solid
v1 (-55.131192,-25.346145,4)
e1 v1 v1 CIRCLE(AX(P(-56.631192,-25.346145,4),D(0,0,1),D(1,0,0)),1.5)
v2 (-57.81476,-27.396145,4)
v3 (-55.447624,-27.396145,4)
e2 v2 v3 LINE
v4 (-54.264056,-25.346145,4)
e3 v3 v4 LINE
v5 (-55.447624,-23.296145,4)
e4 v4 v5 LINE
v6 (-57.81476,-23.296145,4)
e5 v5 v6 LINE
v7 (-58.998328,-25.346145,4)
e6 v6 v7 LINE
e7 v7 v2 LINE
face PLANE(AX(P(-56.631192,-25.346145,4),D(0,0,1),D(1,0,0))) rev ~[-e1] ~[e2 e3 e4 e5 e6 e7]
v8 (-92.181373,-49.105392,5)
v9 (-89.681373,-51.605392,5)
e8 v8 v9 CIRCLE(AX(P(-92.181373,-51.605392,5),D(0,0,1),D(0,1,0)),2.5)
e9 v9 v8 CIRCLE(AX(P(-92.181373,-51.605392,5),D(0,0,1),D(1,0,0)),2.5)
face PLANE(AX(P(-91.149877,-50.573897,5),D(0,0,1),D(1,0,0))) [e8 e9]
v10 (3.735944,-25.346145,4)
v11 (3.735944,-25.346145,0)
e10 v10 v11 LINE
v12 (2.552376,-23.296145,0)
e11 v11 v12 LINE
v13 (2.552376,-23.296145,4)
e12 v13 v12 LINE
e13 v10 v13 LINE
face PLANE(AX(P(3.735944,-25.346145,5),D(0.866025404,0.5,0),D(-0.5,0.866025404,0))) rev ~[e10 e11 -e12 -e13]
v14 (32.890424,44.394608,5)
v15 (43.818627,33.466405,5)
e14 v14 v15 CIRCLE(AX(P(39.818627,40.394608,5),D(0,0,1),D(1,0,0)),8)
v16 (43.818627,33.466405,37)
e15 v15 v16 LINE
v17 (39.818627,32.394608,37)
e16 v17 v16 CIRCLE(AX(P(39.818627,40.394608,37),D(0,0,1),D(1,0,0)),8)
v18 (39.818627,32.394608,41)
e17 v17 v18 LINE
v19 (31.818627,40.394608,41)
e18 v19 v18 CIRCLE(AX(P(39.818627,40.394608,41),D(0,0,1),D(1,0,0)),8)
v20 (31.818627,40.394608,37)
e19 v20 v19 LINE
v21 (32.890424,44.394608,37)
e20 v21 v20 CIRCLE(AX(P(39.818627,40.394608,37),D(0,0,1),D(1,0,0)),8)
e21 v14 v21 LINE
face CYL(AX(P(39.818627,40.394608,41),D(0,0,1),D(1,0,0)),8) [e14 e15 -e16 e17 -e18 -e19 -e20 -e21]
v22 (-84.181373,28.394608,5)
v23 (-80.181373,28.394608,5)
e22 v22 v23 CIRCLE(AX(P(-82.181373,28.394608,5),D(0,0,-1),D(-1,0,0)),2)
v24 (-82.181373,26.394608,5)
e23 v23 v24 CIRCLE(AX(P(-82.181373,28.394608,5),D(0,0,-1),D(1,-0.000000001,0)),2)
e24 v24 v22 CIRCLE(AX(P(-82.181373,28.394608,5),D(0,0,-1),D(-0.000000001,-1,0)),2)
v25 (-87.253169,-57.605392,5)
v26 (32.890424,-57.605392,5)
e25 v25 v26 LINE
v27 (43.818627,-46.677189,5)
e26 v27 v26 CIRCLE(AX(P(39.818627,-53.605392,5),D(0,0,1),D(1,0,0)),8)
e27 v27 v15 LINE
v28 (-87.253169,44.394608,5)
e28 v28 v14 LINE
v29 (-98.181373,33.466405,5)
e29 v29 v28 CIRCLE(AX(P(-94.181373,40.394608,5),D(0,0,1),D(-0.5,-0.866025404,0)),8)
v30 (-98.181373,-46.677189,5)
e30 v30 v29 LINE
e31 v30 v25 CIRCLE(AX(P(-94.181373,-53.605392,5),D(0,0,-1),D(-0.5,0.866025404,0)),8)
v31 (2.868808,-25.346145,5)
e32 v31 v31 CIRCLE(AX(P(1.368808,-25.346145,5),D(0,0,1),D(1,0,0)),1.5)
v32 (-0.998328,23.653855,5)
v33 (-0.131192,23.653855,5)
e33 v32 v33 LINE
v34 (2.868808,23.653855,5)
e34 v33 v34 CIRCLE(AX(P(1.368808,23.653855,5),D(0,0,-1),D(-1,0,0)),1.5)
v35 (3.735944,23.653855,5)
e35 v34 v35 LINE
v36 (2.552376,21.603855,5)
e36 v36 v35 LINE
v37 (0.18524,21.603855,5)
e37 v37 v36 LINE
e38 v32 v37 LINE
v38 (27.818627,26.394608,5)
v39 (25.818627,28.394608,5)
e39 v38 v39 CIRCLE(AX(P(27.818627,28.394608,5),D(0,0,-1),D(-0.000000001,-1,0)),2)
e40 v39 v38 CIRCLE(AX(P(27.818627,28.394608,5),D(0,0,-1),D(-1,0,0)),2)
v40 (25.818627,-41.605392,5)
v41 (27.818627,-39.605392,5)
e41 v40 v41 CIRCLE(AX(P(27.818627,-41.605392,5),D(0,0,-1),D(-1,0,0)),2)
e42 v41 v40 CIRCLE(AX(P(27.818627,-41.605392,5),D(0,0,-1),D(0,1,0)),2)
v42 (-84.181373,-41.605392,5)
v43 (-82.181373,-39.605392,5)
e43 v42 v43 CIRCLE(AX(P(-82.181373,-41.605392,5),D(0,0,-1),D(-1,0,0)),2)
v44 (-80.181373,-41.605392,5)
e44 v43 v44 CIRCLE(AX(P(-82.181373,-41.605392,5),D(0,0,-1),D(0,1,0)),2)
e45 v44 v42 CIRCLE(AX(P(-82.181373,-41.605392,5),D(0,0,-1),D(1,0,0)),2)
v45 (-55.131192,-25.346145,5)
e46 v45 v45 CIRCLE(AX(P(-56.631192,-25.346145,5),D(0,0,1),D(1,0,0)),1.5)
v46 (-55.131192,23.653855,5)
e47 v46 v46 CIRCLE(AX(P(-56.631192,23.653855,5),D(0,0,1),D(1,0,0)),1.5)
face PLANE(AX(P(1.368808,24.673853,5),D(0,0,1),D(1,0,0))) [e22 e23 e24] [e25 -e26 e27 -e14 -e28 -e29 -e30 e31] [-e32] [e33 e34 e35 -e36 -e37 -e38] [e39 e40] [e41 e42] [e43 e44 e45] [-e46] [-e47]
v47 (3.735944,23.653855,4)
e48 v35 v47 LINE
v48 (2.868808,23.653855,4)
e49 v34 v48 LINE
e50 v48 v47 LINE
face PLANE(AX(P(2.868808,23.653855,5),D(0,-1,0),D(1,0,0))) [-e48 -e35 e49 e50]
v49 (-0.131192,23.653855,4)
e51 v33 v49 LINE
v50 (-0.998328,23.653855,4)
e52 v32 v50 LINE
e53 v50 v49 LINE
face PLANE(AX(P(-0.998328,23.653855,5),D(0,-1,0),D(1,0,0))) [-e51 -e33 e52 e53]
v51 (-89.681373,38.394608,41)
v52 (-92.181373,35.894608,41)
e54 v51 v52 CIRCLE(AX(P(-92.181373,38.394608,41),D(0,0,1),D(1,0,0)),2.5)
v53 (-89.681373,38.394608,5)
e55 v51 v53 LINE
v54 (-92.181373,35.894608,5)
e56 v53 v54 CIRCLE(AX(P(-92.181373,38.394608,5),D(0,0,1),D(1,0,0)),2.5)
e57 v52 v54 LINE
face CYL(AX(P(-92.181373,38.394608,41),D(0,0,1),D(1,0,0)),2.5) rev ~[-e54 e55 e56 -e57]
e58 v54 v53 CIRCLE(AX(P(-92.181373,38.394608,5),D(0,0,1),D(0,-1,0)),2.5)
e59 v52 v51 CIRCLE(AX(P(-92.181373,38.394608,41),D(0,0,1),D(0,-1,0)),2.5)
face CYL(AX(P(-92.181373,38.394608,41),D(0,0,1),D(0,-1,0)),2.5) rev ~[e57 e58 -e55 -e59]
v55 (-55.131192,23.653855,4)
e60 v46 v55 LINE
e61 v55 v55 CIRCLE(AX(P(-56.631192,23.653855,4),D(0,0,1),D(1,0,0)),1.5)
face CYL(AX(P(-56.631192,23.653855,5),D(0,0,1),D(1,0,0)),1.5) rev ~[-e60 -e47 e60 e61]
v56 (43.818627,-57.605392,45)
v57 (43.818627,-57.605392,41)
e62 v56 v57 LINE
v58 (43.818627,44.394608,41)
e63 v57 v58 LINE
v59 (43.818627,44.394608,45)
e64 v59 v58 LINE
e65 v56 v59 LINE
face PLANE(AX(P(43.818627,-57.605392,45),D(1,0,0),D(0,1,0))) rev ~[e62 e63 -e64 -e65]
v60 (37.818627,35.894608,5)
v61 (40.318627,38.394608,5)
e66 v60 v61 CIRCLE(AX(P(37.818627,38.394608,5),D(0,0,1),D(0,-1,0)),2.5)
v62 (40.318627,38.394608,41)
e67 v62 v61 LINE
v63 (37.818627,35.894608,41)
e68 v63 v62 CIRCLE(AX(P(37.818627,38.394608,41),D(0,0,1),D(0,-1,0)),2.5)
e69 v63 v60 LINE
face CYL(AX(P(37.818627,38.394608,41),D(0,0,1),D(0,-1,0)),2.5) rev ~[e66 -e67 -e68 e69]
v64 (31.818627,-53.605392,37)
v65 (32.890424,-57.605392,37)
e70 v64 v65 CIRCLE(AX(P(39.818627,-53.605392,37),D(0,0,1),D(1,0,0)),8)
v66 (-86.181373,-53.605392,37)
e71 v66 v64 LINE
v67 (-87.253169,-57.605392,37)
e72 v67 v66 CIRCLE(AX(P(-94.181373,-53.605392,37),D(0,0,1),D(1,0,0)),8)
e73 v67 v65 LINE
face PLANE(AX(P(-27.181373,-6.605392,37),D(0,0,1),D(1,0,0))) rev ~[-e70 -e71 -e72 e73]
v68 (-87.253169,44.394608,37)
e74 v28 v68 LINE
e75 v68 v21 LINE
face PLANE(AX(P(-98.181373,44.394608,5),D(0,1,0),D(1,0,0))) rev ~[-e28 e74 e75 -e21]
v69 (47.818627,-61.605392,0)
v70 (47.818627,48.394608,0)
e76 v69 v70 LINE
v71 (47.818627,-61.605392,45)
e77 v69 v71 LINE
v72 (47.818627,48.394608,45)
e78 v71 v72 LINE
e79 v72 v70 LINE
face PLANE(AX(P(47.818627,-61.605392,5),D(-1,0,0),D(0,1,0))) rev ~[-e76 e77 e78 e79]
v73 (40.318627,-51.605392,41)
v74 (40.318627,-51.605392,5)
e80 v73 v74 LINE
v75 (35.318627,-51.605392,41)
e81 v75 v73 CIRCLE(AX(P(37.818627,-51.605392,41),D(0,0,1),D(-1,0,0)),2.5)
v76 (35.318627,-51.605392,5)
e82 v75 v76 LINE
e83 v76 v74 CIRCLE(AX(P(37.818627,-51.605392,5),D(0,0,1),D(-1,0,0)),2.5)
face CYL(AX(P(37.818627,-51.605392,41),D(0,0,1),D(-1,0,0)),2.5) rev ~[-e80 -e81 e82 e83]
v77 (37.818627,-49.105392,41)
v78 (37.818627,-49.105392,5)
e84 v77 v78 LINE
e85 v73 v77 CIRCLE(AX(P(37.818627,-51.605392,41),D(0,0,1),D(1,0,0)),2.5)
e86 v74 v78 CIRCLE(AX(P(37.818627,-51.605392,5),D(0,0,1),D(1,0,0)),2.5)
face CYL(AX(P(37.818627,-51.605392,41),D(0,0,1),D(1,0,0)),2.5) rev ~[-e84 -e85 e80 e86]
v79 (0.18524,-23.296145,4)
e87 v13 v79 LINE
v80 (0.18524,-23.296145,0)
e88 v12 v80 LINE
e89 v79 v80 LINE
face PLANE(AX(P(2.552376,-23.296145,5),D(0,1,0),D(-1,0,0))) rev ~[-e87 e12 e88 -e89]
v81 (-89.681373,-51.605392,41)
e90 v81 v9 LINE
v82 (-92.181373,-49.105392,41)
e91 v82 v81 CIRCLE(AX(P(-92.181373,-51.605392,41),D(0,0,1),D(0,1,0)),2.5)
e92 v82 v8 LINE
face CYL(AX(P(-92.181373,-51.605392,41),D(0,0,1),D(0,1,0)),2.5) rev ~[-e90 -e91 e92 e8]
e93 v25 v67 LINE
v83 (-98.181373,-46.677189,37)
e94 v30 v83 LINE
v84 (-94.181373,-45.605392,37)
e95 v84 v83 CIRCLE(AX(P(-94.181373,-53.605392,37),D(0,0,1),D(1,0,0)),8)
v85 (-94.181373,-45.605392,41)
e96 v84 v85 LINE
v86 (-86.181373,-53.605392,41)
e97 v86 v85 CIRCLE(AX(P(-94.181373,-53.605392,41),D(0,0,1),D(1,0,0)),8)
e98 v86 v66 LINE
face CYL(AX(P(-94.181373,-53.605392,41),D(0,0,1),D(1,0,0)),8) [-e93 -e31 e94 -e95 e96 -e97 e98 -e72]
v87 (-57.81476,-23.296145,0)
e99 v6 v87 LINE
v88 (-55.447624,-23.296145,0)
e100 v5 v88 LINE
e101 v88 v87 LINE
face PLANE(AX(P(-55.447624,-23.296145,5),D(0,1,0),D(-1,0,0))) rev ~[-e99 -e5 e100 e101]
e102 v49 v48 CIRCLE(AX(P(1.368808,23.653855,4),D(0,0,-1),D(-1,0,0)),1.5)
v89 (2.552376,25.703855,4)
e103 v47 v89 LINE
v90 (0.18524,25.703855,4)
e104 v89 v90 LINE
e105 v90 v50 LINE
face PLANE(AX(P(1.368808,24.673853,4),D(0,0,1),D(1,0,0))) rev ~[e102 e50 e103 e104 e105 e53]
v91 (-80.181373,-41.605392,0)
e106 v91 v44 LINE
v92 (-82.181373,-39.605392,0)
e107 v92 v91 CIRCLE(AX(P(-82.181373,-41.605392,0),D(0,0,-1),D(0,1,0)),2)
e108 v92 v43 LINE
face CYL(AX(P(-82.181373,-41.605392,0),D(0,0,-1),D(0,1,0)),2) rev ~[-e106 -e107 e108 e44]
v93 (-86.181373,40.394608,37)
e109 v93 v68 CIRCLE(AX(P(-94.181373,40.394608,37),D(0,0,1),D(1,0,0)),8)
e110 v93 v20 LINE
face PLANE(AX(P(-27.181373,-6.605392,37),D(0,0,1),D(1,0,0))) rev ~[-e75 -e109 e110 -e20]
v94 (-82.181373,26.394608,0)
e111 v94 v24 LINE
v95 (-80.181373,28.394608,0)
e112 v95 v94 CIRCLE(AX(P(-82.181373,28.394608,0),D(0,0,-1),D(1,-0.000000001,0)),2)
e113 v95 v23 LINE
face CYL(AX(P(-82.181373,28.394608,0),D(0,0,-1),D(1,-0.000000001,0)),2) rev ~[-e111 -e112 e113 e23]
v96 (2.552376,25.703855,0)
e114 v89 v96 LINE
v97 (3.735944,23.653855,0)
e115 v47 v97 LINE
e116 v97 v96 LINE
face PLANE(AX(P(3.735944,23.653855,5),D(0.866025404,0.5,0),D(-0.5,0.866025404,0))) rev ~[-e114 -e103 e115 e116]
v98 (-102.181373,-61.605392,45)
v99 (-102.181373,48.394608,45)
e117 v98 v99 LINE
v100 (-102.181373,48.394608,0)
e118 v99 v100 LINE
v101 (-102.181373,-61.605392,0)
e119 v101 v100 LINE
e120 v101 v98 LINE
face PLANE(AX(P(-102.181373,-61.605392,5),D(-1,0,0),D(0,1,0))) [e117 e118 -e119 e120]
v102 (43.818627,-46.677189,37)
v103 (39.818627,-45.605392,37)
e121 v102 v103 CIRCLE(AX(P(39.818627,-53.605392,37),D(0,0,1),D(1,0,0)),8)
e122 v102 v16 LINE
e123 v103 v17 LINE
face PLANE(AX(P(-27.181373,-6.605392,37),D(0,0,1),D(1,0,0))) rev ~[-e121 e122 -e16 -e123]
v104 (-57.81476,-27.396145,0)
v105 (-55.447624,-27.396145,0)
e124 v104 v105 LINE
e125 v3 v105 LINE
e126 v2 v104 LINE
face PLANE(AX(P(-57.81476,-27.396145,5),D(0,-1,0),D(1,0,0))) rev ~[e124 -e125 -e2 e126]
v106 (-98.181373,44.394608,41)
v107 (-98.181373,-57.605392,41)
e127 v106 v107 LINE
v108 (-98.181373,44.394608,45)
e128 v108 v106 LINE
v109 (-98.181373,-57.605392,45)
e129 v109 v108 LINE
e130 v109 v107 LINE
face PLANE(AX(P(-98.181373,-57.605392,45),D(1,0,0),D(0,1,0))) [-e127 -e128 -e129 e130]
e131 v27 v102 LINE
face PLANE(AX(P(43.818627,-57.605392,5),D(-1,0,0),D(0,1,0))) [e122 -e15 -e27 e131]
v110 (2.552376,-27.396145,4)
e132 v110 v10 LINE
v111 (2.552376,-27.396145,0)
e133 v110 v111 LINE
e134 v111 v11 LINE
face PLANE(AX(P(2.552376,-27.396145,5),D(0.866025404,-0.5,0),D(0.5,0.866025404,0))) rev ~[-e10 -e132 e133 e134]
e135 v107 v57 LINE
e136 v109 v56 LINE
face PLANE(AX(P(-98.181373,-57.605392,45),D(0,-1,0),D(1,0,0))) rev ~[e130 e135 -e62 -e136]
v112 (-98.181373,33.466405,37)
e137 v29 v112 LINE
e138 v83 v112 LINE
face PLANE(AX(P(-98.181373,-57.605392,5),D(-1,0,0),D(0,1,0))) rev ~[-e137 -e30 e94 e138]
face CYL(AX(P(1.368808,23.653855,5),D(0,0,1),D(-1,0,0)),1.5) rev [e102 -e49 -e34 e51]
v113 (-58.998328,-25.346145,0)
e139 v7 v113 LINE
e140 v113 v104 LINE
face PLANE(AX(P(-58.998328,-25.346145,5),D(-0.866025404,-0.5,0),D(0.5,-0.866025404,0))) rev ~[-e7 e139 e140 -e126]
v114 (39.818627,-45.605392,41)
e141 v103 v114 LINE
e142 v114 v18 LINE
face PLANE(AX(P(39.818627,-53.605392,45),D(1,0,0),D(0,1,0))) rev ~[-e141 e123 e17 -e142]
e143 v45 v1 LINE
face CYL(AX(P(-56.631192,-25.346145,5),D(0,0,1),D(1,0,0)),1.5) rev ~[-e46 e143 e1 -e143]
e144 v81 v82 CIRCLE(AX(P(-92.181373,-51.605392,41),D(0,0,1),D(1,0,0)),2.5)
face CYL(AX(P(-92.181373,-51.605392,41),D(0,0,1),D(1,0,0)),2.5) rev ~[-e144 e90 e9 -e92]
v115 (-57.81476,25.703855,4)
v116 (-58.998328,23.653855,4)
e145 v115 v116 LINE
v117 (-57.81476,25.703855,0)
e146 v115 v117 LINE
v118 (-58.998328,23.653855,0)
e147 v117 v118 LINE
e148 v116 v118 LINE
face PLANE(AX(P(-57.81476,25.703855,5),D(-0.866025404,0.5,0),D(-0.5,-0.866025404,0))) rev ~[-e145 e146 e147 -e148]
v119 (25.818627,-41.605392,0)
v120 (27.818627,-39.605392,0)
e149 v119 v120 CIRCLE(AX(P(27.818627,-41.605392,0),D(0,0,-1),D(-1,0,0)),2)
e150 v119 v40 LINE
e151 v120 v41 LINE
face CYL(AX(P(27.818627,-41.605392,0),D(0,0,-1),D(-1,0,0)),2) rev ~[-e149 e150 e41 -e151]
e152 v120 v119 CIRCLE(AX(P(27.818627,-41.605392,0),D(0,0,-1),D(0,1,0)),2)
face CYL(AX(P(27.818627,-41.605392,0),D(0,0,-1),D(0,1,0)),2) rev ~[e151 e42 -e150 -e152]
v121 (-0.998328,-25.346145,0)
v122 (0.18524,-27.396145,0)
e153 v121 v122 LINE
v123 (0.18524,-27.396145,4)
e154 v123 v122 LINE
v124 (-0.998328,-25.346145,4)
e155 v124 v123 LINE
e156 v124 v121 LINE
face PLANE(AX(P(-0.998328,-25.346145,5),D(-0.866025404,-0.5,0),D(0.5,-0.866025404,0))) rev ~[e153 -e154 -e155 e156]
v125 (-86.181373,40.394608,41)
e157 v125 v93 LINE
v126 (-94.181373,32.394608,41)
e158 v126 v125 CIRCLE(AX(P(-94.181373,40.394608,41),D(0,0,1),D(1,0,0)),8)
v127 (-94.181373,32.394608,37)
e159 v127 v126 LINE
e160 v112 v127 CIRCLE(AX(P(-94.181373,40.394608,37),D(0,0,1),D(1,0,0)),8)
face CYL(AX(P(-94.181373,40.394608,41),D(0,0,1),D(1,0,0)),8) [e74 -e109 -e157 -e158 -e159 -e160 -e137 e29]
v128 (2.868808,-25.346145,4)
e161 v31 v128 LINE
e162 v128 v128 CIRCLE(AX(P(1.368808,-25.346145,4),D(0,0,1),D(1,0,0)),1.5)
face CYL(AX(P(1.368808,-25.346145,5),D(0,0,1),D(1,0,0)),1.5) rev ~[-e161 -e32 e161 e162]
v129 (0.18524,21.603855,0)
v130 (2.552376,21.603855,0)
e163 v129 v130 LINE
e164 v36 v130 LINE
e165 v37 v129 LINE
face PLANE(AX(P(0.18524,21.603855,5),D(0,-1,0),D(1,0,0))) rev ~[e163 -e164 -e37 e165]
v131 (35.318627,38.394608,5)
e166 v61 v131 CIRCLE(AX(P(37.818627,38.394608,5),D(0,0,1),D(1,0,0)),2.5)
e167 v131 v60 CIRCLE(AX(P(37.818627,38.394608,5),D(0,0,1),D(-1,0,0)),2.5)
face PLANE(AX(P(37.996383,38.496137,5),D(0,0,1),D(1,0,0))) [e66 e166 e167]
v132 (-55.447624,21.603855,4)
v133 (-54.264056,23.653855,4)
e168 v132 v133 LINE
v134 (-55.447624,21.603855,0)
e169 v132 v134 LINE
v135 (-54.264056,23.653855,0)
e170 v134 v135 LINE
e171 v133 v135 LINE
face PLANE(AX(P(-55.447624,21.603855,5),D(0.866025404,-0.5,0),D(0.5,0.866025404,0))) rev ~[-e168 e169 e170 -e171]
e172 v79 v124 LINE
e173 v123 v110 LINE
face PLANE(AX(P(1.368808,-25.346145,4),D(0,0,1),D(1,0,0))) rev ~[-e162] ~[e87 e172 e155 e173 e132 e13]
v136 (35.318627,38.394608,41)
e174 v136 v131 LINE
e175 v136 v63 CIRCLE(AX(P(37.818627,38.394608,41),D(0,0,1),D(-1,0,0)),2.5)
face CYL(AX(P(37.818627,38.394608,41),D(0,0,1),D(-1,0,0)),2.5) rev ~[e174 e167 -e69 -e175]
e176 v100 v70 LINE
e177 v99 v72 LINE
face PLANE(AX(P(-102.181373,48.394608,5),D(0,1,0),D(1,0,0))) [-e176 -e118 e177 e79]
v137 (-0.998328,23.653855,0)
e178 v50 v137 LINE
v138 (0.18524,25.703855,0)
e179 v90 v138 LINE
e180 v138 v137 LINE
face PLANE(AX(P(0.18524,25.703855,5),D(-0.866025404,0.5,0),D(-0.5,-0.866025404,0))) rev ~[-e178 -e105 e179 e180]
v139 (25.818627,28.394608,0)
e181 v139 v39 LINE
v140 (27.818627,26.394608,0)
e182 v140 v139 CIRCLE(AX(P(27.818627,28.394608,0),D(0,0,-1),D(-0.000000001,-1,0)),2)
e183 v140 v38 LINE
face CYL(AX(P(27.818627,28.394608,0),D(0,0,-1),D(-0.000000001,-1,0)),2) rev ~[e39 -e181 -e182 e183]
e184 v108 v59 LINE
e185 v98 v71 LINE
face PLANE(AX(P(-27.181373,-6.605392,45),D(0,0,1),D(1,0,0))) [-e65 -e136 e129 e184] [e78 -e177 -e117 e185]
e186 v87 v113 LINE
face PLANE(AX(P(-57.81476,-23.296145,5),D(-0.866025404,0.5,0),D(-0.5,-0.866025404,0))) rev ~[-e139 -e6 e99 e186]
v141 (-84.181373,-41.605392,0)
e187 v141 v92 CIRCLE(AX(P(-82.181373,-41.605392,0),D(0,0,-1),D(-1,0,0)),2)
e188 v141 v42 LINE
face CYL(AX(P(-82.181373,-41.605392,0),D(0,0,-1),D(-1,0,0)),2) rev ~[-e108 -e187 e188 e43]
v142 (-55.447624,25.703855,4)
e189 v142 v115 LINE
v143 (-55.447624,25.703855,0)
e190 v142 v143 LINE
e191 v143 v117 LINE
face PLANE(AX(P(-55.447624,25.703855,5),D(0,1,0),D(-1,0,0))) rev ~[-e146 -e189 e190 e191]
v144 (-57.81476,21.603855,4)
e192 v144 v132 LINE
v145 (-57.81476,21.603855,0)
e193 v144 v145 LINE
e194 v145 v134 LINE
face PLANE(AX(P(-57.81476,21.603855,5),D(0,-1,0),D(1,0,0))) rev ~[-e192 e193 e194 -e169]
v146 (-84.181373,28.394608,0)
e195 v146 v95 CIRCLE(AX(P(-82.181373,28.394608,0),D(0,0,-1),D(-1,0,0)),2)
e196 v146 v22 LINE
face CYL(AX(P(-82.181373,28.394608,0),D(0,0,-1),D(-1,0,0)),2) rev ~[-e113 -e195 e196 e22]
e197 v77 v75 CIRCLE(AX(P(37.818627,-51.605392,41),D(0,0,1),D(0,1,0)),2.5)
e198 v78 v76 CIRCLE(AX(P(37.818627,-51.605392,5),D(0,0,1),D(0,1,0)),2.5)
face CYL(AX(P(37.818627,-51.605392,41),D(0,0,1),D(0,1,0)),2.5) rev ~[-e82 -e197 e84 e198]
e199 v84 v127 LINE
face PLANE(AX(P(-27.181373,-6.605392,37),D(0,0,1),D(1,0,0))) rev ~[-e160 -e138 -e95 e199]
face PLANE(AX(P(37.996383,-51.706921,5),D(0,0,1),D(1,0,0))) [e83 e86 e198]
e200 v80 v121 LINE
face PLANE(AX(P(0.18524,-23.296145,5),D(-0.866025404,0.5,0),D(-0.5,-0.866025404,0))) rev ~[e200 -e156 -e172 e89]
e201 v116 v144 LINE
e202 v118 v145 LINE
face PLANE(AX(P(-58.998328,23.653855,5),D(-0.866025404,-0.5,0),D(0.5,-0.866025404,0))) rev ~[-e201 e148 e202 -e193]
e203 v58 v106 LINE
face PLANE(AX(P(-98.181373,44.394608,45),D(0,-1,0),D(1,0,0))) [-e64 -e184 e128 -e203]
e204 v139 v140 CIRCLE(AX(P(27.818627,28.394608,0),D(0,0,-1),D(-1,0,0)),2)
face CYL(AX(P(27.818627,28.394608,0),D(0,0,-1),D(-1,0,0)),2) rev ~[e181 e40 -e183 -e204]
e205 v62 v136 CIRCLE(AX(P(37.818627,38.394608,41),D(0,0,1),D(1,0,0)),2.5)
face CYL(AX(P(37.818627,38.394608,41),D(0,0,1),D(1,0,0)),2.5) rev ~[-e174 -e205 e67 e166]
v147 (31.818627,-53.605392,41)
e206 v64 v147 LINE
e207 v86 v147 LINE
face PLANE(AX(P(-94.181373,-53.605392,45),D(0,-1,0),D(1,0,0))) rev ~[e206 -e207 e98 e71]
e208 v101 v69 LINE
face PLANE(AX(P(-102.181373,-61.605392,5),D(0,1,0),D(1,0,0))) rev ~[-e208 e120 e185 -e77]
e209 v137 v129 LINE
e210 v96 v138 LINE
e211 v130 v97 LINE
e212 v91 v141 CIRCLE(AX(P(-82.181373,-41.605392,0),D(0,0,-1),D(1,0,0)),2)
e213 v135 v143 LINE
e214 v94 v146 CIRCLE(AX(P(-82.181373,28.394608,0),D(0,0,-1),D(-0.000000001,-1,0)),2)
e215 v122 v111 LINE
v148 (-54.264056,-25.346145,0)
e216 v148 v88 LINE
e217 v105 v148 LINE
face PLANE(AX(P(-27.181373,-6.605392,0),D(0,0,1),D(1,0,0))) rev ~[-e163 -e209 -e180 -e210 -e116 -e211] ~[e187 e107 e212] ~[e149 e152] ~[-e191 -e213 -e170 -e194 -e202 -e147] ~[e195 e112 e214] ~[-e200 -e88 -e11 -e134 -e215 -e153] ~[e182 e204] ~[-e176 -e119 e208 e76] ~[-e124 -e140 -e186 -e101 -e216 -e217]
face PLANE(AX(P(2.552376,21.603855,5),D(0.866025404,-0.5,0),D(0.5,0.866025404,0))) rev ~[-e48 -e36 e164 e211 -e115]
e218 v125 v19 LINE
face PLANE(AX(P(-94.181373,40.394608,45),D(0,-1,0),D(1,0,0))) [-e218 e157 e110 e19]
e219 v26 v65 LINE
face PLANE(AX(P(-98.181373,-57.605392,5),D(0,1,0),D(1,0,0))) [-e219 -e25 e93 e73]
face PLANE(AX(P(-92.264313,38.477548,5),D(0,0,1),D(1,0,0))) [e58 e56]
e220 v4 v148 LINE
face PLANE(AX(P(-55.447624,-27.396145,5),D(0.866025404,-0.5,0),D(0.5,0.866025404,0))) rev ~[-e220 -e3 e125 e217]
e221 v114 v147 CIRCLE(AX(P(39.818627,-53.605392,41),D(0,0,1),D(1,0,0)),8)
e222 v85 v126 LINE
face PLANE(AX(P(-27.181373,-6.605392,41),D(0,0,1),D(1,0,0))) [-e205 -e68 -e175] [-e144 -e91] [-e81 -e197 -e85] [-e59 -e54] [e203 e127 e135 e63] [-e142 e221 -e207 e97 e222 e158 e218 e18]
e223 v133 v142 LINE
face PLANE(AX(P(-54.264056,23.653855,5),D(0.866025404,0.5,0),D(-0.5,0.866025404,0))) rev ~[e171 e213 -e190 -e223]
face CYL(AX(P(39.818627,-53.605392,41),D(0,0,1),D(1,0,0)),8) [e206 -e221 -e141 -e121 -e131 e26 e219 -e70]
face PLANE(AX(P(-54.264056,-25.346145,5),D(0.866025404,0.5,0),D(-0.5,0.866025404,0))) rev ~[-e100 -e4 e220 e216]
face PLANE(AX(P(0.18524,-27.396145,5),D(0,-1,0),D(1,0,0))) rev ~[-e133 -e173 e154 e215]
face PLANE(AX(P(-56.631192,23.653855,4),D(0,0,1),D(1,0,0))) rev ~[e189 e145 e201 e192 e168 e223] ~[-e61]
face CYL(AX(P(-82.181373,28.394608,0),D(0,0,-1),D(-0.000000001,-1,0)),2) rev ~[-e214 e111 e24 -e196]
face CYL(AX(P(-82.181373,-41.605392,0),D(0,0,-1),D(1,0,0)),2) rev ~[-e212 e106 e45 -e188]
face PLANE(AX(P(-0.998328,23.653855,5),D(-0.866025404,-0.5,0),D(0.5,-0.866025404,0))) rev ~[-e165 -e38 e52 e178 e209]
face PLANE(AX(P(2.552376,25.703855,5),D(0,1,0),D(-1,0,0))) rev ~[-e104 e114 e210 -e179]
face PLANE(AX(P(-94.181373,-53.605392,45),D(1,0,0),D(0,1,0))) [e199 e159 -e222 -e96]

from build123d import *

# Parameters (mm, degrees)
SKETCH1_W           = 150
SKETCH1_H           = 110
BOSS_EXTRUDE1_DEPTH = 5
SKETCH4_W           = 150
SKETCH4_H           = 110
SKETCH4_W_2         = 142
SKETCH4_H_2         = 102
BOSS_EXTRUDE2_DEPTH = 40
CUT_EXTRUDE1_DEPTH  = 6
SKETCH5_W           = 142
SKETCH5_H           = 102
SKETCH5_W_2         = 134
SKETCH5_H_2         = 94
BOSS_EXTRUDE3_DEPTH = 8
SKETCH6_W           = 142
SKETCH6_H           = 102
SKETCH6_W_2         = 134
SKETCH6_H_2         = 94
CUT_EXTRUDE2_DEPTH  = 4
SKETCH7_R           = 8
BOSS_EXTRUDE4_DEPTH = 36
CUT_EXTRUDE3_DEPTH  = 36
CUT_EXTRUDE4_DEPTH  = 46
SKETCH10_R          = 1.5
BOSS_EXTRUDE5_DEPTH = 1


with BuildPart() as part:
    # Sketch1 → Boss-Extrude1 (new body)
    with BuildSketch(Plane.XY):
        with Locations((-27.181372549, -6.605392157)):
            Rectangle(SKETCH1_W, SKETCH1_H)
    extrude(amount=BOSS_EXTRUDE1_DEPTH)

    # Sketch4 → Boss-Extrude2 (add)
    with BuildSketch(Plane.XY.offset(5)):
        with Locations((-27.181372549, -6.605392157)):
            Rectangle(SKETCH4_W, SKETCH4_H)
        with Locations((-27.181372549, -6.605392157)):
            Rectangle(SKETCH4_W_2, SKETCH4_H_2, mode=Mode.SUBTRACT)
    extrude(amount=BOSS_EXTRUDE2_DEPTH)

    # Sketch2 → Cut-Extrude1 (cut, through all)
    with BuildSketch(Plane(origin=(0, 0, 5), x_dir=(-1, 0, 0), z_dir=(0, 0, 1))):
        Polygon((0.998328299, 25.346145297), (-0.185239753, 27.396145297), (-2.552375857, 27.396145297), (-3.735943908, 25.346145297), (-2.552375857, 23.296145297), (-0.185239753, 23.296145297), align=None)
        Polygon((55.447624143, 27.396145297), (54.264056092, 25.346145297), (55.447624143, 23.296145297), (57.814760247, 23.296145297), (58.998328299, 25.346145297), (57.814760247, 27.396145297), align=None)
        Polygon((-0.185239753, -21.603854703), (-2.552375857, -21.603854703), (-3.735943908, -23.653854703), (-2.552375857, -25.703854703), (-0.185239753, -25.703854703), (0.998328299, -23.653854703), align=None)
        Polygon((55.447624143, -21.603854703), (54.264056092, -23.653854703), (55.447624143, -25.703854703), (57.814760247, -25.703854703), (58.998328299, -23.653854703), (57.814760247, -21.603854703), align=None)
    extrude(amount=-CUT_EXTRUDE1_DEPTH, mode=Mode.SUBTRACT)

    # Sketch5 → Boss-Extrude3 (add)
    with BuildSketch(Plane.XY.offset(45)):
        with Locations((-27.181372549, -6.605392157)):
            Rectangle(SKETCH5_W, SKETCH5_H)
        with Locations((-27.181372549, -6.605392157)):
            Rectangle(SKETCH5_W_2, SKETCH5_H_2, mode=Mode.SUBTRACT)
    extrude(amount=-BOSS_EXTRUDE3_DEPTH)

    # Sketch6 → Cut-Extrude2 (cut)
    with BuildSketch(Plane.XY.offset(45)):
        with Locations((-27.181372549, -6.605392157)):
            Rectangle(SKETCH6_W, SKETCH6_H)
        with Locations((-27.181372549, -6.605392157)):
            Rectangle(SKETCH6_W_2, SKETCH6_H_2, mode=Mode.SUBTRACT)
    extrude(amount=-CUT_EXTRUDE2_DEPTH, mode=Mode.SUBTRACT)

    # Sketch7 → Boss-Extrude4 (add)
    with BuildSketch(Plane.XY.offset(41)):
        with Locations((-94.181372549, 40.394607843)):
            Circle(SKETCH7_R)
        with Locations((-94.181372549, -53.605392157)):
            Circle(SKETCH7_R)
        with Locations((39.818627451, -53.605392157)):
            Circle(SKETCH7_R)
        with Locations((39.818627451, 40.394607843)):
            Circle(SKETCH7_R)
    extrude(amount=-BOSS_EXTRUDE4_DEPTH)

    # Sketch8 → Cut-Extrude3 (cut)
    with BuildSketch(Plane.XY.offset(41)):
        with BuildLine():
            Line((-92.181372549, 35.894607843), (-92.181372549, 38.394607843))
            Line((-92.181372549, 38.394607843), (-89.681372549, 38.394607843))
            ThreePointArc((-89.681372549, 38.394607843), (-93.949139502, 40.162374796), (-92.181372549, 35.894607843))
        make_face()
        with BuildLine():
            Line((-89.681372549, 38.394607843), (-92.181372549, 38.394607843))
            Line((-92.181372549, 38.394607843), (-92.181372549, 35.894607843))
            ThreePointArc((-92.181372549, 35.894607843), (-90.413605596, 36.62684089), (-89.681372549, 38.394607843))
        make_face()
        with BuildLine():
            ThreePointArc((40.318627451, 38.394607843), (37.818627451, 40.894607843), (35.318627451, 38.394607843))
            Line((35.318627451, 38.394607843), (37.818627451, 38.394607843))
            Line((37.818627451, 38.394607843), (37.818627451, 35.894607843))
            ThreePointArc((37.818627451, 35.894607843), (39.586394404, 36.62684089), (40.318627451, 38.394607843))
        make_face()
        with BuildLine():
            Line((37.818627451, 38.394607843), (35.318627451, 38.394607843))
            ThreePointArc((35.318627451, 38.394607843), (36.050860498, 36.62684089), (37.818627451, 35.894607843))
            Line((37.818627451, 35.894607843), (37.818627451, 38.394607843))
        make_face()
        with BuildLine():
            ThreePointArc((40.318627451, -51.605392157), (39.586394404, -49.837625204), (37.818627451, -49.105392157))
            Line((37.818627451, -49.105392157), (37.818627451, -51.605392157))
            Line((37.818627451, -51.605392157), (35.318627451, -51.605392157))
            ThreePointArc((35.318627451, -51.605392157), (37.818627451, -54.105392157), (40.318627451, -51.605392157))
        make_face()
        with BuildLine():
            Line((37.818627451, -51.605392157), (37.818627451, -49.105392157))
            ThreePointArc((37.818627451, -49.105392157), (36.050860498, -49.837625204), (35.318627451, -51.605392157))
            Line((35.318627451, -51.605392157), (37.818627451, -51.605392157))
        make_face()
        with BuildLine():
            ThreePointArc((-89.681372549, -51.605392157), (-90.413605596, -49.837625204), (-92.181372549, -49.105392157))
            Line((-92.181372549, -49.105392157), (-92.181372549, -51.605392157))
            Line((-92.181372549, -51.605392157), (-89.681372549, -51.605392157))
        make_face()
        with BuildLine():
            Line((-92.181372549, -51.605392157), (-92.181372549, -49.105392157))
            ThreePointArc((-92.181372549, -49.105392157), (-93.949139502, -53.37315911), (-89.681372549, -51.605392157))
            Line((-89.681372549, -51.605392157), (-92.181372549, -51.605392157))
        make_face()
    extrude(amount=-CUT_EXTRUDE3_DEPTH, mode=Mode.SUBTRACT)

    # Sketch9 → Cut-Extrude4 (cut, through all)
    with BuildSketch(Plane(origin=(0, 0, 0), x_dir=(-1, 0, 0), z_dir=(0, 0, -1))):
        with BuildLine():
            Line((-27.818627451, 26.394607843), (-27.818627451, 28.394607843))
            Line((-27.818627451, 28.394607843), (-25.818627451, 28.394607843))
            ThreePointArc((-25.818627451, 28.394607843), (-29.232841013, 29.808821406), (-27.818627451, 26.394607843))
        make_face()
        with BuildLine():
            Line((-25.818627451, 28.394607843), (-27.818627451, 28.394607843))
            Line((-27.818627451, 28.394607843), (-27.818627451, 26.394607843))
            ThreePointArc((-27.818627451, 26.394607843), (-26.404413889, 26.980394281), (-25.818627451, 28.394607843))
        make_face()
        with BuildLine():
            ThreePointArc((-25.818627451, -41.605392157), (-26.404413889, -40.191178594), (-27.818627451, -39.605392157))
            Line((-27.818627451, -39.605392157), (-27.818627451, -41.605392157))
            Line((-27.818627451, -41.605392157), (-25.818627451, -41.605392157))
        make_face()
        with BuildLine():
            Line((-27.818627451, -41.605392157), (-27.818627451, -39.605392157))
            ThreePointArc((-27.818627451, -39.605392157), (-29.232841013, -43.019605719), (-25.818627451, -41.605392157))
            Line((-25.818627451, -41.605392157), (-27.818627451, -41.605392157))
        make_face()
        with BuildLine():
            ThreePointArc((84.181372549, -41.605392157), (83.595586111, -40.191178594), (82.181372549, -39.605392157))
            Line((82.181372549, -39.605392157), (82.181372549, -41.605392157))
            Line((82.181372549, -41.605392157), (80.181372549, -41.605392157))
            ThreePointArc((80.181372549, -41.605392157), (82.181372549, -43.605392157), (84.181372549, -41.605392157))
        make_face()
        with BuildLine():
            Line((82.181372549, -41.605392157), (82.181372549, -39.605392157))
            ThreePointArc((82.181372549, -39.605392157), (80.767158987, -40.191178594), (80.181372549, -41.605392157))
            Line((80.181372549, -41.605392157), (82.181372549, -41.605392157))
        make_face()
        with BuildLine():
            ThreePointArc((84.181372549, 28.394607843), (82.181372549, 30.394607843), (80.181372549, 28.394607843))
            Line((80.181372549, 28.394607843), (82.181372549, 28.394607843))
            Line((82.181372549, 28.394607843), (82.181372549, 26.394607843))
            ThreePointArc((82.181372549, 26.394607843), (83.595586111, 26.980394281), (84.181372549, 28.394607843))
        make_face()
        with BuildLine():
            Line((82.181372549, 28.394607843), (80.181372549, 28.394607843))
            ThreePointArc((80.181372549, 28.394607843), (80.767158987, 26.980394281), (82.181372549, 26.394607843))
            Line((82.181372549, 26.394607843), (82.181372549, 28.394607843))
        make_face()
    extrude(amount=-CUT_EXTRUDE4_DEPTH, mode=Mode.SUBTRACT)

    # Sketch10 → Boss-Extrude5 (add)
    with BuildSketch(Plane.XY.offset(5)):
        with BuildLine():
            ThreePointArc((-0.131192195, 23.653854703), (1.368807805, 25.153854703), (2.868807805, 23.653854703))
            Line((2.868807805, 23.653854703), (3.735943908, 23.653854703))
            Line((3.735943908, 23.653854703), (2.552375857, 25.703854703))
            Line((2.552375857, 25.703854703), (0.185239753, 25.703854703))
            Line((0.185239753, 25.703854703), (-0.998328299, 23.653854703))
            Line((-0.998328299, 23.653854703), (-0.131192195, 23.653854703))
        make_face()
        Polygon((-54.264056092, 23.653854703), (-55.447624143, 25.703854703), (-57.814760247, 25.703854703), (-58.998328299, 23.653854703), (-57.814760247, 21.603854703), (-55.447624143, 21.603854703), align=None)
        with Locations((-56.631192195, 23.653854703)):
            Circle(SKETCH10_R, mode=Mode.SUBTRACT)
        Polygon((-54.264056092, -25.346145297), (-55.447624143, -23.296145297), (-57.814760247, -23.296145297), (-58.998328299, -25.346145297), (-57.814760247, -27.396145297), (-55.447624143, -27.396145297), align=None)
        with Locations((-56.631192195, -25.346145297)):
            Circle(SKETCH10_R, mode=Mode.SUBTRACT)
        Polygon((3.735943908, -25.346145297), (2.552375857, -23.296145297), (0.185239753, -23.296145297), (-0.998328299, -25.346145297), (0.185239753, -27.396145297), (2.552375857, -27.396145297), align=None)
        with Locations((1.368807805, -25.346145297)):
            Circle(SKETCH10_R, mode=Mode.SUBTRACT)
    extrude(amount=-BOSS_EXTRUDE5_DEPTH)


solid = part.part
